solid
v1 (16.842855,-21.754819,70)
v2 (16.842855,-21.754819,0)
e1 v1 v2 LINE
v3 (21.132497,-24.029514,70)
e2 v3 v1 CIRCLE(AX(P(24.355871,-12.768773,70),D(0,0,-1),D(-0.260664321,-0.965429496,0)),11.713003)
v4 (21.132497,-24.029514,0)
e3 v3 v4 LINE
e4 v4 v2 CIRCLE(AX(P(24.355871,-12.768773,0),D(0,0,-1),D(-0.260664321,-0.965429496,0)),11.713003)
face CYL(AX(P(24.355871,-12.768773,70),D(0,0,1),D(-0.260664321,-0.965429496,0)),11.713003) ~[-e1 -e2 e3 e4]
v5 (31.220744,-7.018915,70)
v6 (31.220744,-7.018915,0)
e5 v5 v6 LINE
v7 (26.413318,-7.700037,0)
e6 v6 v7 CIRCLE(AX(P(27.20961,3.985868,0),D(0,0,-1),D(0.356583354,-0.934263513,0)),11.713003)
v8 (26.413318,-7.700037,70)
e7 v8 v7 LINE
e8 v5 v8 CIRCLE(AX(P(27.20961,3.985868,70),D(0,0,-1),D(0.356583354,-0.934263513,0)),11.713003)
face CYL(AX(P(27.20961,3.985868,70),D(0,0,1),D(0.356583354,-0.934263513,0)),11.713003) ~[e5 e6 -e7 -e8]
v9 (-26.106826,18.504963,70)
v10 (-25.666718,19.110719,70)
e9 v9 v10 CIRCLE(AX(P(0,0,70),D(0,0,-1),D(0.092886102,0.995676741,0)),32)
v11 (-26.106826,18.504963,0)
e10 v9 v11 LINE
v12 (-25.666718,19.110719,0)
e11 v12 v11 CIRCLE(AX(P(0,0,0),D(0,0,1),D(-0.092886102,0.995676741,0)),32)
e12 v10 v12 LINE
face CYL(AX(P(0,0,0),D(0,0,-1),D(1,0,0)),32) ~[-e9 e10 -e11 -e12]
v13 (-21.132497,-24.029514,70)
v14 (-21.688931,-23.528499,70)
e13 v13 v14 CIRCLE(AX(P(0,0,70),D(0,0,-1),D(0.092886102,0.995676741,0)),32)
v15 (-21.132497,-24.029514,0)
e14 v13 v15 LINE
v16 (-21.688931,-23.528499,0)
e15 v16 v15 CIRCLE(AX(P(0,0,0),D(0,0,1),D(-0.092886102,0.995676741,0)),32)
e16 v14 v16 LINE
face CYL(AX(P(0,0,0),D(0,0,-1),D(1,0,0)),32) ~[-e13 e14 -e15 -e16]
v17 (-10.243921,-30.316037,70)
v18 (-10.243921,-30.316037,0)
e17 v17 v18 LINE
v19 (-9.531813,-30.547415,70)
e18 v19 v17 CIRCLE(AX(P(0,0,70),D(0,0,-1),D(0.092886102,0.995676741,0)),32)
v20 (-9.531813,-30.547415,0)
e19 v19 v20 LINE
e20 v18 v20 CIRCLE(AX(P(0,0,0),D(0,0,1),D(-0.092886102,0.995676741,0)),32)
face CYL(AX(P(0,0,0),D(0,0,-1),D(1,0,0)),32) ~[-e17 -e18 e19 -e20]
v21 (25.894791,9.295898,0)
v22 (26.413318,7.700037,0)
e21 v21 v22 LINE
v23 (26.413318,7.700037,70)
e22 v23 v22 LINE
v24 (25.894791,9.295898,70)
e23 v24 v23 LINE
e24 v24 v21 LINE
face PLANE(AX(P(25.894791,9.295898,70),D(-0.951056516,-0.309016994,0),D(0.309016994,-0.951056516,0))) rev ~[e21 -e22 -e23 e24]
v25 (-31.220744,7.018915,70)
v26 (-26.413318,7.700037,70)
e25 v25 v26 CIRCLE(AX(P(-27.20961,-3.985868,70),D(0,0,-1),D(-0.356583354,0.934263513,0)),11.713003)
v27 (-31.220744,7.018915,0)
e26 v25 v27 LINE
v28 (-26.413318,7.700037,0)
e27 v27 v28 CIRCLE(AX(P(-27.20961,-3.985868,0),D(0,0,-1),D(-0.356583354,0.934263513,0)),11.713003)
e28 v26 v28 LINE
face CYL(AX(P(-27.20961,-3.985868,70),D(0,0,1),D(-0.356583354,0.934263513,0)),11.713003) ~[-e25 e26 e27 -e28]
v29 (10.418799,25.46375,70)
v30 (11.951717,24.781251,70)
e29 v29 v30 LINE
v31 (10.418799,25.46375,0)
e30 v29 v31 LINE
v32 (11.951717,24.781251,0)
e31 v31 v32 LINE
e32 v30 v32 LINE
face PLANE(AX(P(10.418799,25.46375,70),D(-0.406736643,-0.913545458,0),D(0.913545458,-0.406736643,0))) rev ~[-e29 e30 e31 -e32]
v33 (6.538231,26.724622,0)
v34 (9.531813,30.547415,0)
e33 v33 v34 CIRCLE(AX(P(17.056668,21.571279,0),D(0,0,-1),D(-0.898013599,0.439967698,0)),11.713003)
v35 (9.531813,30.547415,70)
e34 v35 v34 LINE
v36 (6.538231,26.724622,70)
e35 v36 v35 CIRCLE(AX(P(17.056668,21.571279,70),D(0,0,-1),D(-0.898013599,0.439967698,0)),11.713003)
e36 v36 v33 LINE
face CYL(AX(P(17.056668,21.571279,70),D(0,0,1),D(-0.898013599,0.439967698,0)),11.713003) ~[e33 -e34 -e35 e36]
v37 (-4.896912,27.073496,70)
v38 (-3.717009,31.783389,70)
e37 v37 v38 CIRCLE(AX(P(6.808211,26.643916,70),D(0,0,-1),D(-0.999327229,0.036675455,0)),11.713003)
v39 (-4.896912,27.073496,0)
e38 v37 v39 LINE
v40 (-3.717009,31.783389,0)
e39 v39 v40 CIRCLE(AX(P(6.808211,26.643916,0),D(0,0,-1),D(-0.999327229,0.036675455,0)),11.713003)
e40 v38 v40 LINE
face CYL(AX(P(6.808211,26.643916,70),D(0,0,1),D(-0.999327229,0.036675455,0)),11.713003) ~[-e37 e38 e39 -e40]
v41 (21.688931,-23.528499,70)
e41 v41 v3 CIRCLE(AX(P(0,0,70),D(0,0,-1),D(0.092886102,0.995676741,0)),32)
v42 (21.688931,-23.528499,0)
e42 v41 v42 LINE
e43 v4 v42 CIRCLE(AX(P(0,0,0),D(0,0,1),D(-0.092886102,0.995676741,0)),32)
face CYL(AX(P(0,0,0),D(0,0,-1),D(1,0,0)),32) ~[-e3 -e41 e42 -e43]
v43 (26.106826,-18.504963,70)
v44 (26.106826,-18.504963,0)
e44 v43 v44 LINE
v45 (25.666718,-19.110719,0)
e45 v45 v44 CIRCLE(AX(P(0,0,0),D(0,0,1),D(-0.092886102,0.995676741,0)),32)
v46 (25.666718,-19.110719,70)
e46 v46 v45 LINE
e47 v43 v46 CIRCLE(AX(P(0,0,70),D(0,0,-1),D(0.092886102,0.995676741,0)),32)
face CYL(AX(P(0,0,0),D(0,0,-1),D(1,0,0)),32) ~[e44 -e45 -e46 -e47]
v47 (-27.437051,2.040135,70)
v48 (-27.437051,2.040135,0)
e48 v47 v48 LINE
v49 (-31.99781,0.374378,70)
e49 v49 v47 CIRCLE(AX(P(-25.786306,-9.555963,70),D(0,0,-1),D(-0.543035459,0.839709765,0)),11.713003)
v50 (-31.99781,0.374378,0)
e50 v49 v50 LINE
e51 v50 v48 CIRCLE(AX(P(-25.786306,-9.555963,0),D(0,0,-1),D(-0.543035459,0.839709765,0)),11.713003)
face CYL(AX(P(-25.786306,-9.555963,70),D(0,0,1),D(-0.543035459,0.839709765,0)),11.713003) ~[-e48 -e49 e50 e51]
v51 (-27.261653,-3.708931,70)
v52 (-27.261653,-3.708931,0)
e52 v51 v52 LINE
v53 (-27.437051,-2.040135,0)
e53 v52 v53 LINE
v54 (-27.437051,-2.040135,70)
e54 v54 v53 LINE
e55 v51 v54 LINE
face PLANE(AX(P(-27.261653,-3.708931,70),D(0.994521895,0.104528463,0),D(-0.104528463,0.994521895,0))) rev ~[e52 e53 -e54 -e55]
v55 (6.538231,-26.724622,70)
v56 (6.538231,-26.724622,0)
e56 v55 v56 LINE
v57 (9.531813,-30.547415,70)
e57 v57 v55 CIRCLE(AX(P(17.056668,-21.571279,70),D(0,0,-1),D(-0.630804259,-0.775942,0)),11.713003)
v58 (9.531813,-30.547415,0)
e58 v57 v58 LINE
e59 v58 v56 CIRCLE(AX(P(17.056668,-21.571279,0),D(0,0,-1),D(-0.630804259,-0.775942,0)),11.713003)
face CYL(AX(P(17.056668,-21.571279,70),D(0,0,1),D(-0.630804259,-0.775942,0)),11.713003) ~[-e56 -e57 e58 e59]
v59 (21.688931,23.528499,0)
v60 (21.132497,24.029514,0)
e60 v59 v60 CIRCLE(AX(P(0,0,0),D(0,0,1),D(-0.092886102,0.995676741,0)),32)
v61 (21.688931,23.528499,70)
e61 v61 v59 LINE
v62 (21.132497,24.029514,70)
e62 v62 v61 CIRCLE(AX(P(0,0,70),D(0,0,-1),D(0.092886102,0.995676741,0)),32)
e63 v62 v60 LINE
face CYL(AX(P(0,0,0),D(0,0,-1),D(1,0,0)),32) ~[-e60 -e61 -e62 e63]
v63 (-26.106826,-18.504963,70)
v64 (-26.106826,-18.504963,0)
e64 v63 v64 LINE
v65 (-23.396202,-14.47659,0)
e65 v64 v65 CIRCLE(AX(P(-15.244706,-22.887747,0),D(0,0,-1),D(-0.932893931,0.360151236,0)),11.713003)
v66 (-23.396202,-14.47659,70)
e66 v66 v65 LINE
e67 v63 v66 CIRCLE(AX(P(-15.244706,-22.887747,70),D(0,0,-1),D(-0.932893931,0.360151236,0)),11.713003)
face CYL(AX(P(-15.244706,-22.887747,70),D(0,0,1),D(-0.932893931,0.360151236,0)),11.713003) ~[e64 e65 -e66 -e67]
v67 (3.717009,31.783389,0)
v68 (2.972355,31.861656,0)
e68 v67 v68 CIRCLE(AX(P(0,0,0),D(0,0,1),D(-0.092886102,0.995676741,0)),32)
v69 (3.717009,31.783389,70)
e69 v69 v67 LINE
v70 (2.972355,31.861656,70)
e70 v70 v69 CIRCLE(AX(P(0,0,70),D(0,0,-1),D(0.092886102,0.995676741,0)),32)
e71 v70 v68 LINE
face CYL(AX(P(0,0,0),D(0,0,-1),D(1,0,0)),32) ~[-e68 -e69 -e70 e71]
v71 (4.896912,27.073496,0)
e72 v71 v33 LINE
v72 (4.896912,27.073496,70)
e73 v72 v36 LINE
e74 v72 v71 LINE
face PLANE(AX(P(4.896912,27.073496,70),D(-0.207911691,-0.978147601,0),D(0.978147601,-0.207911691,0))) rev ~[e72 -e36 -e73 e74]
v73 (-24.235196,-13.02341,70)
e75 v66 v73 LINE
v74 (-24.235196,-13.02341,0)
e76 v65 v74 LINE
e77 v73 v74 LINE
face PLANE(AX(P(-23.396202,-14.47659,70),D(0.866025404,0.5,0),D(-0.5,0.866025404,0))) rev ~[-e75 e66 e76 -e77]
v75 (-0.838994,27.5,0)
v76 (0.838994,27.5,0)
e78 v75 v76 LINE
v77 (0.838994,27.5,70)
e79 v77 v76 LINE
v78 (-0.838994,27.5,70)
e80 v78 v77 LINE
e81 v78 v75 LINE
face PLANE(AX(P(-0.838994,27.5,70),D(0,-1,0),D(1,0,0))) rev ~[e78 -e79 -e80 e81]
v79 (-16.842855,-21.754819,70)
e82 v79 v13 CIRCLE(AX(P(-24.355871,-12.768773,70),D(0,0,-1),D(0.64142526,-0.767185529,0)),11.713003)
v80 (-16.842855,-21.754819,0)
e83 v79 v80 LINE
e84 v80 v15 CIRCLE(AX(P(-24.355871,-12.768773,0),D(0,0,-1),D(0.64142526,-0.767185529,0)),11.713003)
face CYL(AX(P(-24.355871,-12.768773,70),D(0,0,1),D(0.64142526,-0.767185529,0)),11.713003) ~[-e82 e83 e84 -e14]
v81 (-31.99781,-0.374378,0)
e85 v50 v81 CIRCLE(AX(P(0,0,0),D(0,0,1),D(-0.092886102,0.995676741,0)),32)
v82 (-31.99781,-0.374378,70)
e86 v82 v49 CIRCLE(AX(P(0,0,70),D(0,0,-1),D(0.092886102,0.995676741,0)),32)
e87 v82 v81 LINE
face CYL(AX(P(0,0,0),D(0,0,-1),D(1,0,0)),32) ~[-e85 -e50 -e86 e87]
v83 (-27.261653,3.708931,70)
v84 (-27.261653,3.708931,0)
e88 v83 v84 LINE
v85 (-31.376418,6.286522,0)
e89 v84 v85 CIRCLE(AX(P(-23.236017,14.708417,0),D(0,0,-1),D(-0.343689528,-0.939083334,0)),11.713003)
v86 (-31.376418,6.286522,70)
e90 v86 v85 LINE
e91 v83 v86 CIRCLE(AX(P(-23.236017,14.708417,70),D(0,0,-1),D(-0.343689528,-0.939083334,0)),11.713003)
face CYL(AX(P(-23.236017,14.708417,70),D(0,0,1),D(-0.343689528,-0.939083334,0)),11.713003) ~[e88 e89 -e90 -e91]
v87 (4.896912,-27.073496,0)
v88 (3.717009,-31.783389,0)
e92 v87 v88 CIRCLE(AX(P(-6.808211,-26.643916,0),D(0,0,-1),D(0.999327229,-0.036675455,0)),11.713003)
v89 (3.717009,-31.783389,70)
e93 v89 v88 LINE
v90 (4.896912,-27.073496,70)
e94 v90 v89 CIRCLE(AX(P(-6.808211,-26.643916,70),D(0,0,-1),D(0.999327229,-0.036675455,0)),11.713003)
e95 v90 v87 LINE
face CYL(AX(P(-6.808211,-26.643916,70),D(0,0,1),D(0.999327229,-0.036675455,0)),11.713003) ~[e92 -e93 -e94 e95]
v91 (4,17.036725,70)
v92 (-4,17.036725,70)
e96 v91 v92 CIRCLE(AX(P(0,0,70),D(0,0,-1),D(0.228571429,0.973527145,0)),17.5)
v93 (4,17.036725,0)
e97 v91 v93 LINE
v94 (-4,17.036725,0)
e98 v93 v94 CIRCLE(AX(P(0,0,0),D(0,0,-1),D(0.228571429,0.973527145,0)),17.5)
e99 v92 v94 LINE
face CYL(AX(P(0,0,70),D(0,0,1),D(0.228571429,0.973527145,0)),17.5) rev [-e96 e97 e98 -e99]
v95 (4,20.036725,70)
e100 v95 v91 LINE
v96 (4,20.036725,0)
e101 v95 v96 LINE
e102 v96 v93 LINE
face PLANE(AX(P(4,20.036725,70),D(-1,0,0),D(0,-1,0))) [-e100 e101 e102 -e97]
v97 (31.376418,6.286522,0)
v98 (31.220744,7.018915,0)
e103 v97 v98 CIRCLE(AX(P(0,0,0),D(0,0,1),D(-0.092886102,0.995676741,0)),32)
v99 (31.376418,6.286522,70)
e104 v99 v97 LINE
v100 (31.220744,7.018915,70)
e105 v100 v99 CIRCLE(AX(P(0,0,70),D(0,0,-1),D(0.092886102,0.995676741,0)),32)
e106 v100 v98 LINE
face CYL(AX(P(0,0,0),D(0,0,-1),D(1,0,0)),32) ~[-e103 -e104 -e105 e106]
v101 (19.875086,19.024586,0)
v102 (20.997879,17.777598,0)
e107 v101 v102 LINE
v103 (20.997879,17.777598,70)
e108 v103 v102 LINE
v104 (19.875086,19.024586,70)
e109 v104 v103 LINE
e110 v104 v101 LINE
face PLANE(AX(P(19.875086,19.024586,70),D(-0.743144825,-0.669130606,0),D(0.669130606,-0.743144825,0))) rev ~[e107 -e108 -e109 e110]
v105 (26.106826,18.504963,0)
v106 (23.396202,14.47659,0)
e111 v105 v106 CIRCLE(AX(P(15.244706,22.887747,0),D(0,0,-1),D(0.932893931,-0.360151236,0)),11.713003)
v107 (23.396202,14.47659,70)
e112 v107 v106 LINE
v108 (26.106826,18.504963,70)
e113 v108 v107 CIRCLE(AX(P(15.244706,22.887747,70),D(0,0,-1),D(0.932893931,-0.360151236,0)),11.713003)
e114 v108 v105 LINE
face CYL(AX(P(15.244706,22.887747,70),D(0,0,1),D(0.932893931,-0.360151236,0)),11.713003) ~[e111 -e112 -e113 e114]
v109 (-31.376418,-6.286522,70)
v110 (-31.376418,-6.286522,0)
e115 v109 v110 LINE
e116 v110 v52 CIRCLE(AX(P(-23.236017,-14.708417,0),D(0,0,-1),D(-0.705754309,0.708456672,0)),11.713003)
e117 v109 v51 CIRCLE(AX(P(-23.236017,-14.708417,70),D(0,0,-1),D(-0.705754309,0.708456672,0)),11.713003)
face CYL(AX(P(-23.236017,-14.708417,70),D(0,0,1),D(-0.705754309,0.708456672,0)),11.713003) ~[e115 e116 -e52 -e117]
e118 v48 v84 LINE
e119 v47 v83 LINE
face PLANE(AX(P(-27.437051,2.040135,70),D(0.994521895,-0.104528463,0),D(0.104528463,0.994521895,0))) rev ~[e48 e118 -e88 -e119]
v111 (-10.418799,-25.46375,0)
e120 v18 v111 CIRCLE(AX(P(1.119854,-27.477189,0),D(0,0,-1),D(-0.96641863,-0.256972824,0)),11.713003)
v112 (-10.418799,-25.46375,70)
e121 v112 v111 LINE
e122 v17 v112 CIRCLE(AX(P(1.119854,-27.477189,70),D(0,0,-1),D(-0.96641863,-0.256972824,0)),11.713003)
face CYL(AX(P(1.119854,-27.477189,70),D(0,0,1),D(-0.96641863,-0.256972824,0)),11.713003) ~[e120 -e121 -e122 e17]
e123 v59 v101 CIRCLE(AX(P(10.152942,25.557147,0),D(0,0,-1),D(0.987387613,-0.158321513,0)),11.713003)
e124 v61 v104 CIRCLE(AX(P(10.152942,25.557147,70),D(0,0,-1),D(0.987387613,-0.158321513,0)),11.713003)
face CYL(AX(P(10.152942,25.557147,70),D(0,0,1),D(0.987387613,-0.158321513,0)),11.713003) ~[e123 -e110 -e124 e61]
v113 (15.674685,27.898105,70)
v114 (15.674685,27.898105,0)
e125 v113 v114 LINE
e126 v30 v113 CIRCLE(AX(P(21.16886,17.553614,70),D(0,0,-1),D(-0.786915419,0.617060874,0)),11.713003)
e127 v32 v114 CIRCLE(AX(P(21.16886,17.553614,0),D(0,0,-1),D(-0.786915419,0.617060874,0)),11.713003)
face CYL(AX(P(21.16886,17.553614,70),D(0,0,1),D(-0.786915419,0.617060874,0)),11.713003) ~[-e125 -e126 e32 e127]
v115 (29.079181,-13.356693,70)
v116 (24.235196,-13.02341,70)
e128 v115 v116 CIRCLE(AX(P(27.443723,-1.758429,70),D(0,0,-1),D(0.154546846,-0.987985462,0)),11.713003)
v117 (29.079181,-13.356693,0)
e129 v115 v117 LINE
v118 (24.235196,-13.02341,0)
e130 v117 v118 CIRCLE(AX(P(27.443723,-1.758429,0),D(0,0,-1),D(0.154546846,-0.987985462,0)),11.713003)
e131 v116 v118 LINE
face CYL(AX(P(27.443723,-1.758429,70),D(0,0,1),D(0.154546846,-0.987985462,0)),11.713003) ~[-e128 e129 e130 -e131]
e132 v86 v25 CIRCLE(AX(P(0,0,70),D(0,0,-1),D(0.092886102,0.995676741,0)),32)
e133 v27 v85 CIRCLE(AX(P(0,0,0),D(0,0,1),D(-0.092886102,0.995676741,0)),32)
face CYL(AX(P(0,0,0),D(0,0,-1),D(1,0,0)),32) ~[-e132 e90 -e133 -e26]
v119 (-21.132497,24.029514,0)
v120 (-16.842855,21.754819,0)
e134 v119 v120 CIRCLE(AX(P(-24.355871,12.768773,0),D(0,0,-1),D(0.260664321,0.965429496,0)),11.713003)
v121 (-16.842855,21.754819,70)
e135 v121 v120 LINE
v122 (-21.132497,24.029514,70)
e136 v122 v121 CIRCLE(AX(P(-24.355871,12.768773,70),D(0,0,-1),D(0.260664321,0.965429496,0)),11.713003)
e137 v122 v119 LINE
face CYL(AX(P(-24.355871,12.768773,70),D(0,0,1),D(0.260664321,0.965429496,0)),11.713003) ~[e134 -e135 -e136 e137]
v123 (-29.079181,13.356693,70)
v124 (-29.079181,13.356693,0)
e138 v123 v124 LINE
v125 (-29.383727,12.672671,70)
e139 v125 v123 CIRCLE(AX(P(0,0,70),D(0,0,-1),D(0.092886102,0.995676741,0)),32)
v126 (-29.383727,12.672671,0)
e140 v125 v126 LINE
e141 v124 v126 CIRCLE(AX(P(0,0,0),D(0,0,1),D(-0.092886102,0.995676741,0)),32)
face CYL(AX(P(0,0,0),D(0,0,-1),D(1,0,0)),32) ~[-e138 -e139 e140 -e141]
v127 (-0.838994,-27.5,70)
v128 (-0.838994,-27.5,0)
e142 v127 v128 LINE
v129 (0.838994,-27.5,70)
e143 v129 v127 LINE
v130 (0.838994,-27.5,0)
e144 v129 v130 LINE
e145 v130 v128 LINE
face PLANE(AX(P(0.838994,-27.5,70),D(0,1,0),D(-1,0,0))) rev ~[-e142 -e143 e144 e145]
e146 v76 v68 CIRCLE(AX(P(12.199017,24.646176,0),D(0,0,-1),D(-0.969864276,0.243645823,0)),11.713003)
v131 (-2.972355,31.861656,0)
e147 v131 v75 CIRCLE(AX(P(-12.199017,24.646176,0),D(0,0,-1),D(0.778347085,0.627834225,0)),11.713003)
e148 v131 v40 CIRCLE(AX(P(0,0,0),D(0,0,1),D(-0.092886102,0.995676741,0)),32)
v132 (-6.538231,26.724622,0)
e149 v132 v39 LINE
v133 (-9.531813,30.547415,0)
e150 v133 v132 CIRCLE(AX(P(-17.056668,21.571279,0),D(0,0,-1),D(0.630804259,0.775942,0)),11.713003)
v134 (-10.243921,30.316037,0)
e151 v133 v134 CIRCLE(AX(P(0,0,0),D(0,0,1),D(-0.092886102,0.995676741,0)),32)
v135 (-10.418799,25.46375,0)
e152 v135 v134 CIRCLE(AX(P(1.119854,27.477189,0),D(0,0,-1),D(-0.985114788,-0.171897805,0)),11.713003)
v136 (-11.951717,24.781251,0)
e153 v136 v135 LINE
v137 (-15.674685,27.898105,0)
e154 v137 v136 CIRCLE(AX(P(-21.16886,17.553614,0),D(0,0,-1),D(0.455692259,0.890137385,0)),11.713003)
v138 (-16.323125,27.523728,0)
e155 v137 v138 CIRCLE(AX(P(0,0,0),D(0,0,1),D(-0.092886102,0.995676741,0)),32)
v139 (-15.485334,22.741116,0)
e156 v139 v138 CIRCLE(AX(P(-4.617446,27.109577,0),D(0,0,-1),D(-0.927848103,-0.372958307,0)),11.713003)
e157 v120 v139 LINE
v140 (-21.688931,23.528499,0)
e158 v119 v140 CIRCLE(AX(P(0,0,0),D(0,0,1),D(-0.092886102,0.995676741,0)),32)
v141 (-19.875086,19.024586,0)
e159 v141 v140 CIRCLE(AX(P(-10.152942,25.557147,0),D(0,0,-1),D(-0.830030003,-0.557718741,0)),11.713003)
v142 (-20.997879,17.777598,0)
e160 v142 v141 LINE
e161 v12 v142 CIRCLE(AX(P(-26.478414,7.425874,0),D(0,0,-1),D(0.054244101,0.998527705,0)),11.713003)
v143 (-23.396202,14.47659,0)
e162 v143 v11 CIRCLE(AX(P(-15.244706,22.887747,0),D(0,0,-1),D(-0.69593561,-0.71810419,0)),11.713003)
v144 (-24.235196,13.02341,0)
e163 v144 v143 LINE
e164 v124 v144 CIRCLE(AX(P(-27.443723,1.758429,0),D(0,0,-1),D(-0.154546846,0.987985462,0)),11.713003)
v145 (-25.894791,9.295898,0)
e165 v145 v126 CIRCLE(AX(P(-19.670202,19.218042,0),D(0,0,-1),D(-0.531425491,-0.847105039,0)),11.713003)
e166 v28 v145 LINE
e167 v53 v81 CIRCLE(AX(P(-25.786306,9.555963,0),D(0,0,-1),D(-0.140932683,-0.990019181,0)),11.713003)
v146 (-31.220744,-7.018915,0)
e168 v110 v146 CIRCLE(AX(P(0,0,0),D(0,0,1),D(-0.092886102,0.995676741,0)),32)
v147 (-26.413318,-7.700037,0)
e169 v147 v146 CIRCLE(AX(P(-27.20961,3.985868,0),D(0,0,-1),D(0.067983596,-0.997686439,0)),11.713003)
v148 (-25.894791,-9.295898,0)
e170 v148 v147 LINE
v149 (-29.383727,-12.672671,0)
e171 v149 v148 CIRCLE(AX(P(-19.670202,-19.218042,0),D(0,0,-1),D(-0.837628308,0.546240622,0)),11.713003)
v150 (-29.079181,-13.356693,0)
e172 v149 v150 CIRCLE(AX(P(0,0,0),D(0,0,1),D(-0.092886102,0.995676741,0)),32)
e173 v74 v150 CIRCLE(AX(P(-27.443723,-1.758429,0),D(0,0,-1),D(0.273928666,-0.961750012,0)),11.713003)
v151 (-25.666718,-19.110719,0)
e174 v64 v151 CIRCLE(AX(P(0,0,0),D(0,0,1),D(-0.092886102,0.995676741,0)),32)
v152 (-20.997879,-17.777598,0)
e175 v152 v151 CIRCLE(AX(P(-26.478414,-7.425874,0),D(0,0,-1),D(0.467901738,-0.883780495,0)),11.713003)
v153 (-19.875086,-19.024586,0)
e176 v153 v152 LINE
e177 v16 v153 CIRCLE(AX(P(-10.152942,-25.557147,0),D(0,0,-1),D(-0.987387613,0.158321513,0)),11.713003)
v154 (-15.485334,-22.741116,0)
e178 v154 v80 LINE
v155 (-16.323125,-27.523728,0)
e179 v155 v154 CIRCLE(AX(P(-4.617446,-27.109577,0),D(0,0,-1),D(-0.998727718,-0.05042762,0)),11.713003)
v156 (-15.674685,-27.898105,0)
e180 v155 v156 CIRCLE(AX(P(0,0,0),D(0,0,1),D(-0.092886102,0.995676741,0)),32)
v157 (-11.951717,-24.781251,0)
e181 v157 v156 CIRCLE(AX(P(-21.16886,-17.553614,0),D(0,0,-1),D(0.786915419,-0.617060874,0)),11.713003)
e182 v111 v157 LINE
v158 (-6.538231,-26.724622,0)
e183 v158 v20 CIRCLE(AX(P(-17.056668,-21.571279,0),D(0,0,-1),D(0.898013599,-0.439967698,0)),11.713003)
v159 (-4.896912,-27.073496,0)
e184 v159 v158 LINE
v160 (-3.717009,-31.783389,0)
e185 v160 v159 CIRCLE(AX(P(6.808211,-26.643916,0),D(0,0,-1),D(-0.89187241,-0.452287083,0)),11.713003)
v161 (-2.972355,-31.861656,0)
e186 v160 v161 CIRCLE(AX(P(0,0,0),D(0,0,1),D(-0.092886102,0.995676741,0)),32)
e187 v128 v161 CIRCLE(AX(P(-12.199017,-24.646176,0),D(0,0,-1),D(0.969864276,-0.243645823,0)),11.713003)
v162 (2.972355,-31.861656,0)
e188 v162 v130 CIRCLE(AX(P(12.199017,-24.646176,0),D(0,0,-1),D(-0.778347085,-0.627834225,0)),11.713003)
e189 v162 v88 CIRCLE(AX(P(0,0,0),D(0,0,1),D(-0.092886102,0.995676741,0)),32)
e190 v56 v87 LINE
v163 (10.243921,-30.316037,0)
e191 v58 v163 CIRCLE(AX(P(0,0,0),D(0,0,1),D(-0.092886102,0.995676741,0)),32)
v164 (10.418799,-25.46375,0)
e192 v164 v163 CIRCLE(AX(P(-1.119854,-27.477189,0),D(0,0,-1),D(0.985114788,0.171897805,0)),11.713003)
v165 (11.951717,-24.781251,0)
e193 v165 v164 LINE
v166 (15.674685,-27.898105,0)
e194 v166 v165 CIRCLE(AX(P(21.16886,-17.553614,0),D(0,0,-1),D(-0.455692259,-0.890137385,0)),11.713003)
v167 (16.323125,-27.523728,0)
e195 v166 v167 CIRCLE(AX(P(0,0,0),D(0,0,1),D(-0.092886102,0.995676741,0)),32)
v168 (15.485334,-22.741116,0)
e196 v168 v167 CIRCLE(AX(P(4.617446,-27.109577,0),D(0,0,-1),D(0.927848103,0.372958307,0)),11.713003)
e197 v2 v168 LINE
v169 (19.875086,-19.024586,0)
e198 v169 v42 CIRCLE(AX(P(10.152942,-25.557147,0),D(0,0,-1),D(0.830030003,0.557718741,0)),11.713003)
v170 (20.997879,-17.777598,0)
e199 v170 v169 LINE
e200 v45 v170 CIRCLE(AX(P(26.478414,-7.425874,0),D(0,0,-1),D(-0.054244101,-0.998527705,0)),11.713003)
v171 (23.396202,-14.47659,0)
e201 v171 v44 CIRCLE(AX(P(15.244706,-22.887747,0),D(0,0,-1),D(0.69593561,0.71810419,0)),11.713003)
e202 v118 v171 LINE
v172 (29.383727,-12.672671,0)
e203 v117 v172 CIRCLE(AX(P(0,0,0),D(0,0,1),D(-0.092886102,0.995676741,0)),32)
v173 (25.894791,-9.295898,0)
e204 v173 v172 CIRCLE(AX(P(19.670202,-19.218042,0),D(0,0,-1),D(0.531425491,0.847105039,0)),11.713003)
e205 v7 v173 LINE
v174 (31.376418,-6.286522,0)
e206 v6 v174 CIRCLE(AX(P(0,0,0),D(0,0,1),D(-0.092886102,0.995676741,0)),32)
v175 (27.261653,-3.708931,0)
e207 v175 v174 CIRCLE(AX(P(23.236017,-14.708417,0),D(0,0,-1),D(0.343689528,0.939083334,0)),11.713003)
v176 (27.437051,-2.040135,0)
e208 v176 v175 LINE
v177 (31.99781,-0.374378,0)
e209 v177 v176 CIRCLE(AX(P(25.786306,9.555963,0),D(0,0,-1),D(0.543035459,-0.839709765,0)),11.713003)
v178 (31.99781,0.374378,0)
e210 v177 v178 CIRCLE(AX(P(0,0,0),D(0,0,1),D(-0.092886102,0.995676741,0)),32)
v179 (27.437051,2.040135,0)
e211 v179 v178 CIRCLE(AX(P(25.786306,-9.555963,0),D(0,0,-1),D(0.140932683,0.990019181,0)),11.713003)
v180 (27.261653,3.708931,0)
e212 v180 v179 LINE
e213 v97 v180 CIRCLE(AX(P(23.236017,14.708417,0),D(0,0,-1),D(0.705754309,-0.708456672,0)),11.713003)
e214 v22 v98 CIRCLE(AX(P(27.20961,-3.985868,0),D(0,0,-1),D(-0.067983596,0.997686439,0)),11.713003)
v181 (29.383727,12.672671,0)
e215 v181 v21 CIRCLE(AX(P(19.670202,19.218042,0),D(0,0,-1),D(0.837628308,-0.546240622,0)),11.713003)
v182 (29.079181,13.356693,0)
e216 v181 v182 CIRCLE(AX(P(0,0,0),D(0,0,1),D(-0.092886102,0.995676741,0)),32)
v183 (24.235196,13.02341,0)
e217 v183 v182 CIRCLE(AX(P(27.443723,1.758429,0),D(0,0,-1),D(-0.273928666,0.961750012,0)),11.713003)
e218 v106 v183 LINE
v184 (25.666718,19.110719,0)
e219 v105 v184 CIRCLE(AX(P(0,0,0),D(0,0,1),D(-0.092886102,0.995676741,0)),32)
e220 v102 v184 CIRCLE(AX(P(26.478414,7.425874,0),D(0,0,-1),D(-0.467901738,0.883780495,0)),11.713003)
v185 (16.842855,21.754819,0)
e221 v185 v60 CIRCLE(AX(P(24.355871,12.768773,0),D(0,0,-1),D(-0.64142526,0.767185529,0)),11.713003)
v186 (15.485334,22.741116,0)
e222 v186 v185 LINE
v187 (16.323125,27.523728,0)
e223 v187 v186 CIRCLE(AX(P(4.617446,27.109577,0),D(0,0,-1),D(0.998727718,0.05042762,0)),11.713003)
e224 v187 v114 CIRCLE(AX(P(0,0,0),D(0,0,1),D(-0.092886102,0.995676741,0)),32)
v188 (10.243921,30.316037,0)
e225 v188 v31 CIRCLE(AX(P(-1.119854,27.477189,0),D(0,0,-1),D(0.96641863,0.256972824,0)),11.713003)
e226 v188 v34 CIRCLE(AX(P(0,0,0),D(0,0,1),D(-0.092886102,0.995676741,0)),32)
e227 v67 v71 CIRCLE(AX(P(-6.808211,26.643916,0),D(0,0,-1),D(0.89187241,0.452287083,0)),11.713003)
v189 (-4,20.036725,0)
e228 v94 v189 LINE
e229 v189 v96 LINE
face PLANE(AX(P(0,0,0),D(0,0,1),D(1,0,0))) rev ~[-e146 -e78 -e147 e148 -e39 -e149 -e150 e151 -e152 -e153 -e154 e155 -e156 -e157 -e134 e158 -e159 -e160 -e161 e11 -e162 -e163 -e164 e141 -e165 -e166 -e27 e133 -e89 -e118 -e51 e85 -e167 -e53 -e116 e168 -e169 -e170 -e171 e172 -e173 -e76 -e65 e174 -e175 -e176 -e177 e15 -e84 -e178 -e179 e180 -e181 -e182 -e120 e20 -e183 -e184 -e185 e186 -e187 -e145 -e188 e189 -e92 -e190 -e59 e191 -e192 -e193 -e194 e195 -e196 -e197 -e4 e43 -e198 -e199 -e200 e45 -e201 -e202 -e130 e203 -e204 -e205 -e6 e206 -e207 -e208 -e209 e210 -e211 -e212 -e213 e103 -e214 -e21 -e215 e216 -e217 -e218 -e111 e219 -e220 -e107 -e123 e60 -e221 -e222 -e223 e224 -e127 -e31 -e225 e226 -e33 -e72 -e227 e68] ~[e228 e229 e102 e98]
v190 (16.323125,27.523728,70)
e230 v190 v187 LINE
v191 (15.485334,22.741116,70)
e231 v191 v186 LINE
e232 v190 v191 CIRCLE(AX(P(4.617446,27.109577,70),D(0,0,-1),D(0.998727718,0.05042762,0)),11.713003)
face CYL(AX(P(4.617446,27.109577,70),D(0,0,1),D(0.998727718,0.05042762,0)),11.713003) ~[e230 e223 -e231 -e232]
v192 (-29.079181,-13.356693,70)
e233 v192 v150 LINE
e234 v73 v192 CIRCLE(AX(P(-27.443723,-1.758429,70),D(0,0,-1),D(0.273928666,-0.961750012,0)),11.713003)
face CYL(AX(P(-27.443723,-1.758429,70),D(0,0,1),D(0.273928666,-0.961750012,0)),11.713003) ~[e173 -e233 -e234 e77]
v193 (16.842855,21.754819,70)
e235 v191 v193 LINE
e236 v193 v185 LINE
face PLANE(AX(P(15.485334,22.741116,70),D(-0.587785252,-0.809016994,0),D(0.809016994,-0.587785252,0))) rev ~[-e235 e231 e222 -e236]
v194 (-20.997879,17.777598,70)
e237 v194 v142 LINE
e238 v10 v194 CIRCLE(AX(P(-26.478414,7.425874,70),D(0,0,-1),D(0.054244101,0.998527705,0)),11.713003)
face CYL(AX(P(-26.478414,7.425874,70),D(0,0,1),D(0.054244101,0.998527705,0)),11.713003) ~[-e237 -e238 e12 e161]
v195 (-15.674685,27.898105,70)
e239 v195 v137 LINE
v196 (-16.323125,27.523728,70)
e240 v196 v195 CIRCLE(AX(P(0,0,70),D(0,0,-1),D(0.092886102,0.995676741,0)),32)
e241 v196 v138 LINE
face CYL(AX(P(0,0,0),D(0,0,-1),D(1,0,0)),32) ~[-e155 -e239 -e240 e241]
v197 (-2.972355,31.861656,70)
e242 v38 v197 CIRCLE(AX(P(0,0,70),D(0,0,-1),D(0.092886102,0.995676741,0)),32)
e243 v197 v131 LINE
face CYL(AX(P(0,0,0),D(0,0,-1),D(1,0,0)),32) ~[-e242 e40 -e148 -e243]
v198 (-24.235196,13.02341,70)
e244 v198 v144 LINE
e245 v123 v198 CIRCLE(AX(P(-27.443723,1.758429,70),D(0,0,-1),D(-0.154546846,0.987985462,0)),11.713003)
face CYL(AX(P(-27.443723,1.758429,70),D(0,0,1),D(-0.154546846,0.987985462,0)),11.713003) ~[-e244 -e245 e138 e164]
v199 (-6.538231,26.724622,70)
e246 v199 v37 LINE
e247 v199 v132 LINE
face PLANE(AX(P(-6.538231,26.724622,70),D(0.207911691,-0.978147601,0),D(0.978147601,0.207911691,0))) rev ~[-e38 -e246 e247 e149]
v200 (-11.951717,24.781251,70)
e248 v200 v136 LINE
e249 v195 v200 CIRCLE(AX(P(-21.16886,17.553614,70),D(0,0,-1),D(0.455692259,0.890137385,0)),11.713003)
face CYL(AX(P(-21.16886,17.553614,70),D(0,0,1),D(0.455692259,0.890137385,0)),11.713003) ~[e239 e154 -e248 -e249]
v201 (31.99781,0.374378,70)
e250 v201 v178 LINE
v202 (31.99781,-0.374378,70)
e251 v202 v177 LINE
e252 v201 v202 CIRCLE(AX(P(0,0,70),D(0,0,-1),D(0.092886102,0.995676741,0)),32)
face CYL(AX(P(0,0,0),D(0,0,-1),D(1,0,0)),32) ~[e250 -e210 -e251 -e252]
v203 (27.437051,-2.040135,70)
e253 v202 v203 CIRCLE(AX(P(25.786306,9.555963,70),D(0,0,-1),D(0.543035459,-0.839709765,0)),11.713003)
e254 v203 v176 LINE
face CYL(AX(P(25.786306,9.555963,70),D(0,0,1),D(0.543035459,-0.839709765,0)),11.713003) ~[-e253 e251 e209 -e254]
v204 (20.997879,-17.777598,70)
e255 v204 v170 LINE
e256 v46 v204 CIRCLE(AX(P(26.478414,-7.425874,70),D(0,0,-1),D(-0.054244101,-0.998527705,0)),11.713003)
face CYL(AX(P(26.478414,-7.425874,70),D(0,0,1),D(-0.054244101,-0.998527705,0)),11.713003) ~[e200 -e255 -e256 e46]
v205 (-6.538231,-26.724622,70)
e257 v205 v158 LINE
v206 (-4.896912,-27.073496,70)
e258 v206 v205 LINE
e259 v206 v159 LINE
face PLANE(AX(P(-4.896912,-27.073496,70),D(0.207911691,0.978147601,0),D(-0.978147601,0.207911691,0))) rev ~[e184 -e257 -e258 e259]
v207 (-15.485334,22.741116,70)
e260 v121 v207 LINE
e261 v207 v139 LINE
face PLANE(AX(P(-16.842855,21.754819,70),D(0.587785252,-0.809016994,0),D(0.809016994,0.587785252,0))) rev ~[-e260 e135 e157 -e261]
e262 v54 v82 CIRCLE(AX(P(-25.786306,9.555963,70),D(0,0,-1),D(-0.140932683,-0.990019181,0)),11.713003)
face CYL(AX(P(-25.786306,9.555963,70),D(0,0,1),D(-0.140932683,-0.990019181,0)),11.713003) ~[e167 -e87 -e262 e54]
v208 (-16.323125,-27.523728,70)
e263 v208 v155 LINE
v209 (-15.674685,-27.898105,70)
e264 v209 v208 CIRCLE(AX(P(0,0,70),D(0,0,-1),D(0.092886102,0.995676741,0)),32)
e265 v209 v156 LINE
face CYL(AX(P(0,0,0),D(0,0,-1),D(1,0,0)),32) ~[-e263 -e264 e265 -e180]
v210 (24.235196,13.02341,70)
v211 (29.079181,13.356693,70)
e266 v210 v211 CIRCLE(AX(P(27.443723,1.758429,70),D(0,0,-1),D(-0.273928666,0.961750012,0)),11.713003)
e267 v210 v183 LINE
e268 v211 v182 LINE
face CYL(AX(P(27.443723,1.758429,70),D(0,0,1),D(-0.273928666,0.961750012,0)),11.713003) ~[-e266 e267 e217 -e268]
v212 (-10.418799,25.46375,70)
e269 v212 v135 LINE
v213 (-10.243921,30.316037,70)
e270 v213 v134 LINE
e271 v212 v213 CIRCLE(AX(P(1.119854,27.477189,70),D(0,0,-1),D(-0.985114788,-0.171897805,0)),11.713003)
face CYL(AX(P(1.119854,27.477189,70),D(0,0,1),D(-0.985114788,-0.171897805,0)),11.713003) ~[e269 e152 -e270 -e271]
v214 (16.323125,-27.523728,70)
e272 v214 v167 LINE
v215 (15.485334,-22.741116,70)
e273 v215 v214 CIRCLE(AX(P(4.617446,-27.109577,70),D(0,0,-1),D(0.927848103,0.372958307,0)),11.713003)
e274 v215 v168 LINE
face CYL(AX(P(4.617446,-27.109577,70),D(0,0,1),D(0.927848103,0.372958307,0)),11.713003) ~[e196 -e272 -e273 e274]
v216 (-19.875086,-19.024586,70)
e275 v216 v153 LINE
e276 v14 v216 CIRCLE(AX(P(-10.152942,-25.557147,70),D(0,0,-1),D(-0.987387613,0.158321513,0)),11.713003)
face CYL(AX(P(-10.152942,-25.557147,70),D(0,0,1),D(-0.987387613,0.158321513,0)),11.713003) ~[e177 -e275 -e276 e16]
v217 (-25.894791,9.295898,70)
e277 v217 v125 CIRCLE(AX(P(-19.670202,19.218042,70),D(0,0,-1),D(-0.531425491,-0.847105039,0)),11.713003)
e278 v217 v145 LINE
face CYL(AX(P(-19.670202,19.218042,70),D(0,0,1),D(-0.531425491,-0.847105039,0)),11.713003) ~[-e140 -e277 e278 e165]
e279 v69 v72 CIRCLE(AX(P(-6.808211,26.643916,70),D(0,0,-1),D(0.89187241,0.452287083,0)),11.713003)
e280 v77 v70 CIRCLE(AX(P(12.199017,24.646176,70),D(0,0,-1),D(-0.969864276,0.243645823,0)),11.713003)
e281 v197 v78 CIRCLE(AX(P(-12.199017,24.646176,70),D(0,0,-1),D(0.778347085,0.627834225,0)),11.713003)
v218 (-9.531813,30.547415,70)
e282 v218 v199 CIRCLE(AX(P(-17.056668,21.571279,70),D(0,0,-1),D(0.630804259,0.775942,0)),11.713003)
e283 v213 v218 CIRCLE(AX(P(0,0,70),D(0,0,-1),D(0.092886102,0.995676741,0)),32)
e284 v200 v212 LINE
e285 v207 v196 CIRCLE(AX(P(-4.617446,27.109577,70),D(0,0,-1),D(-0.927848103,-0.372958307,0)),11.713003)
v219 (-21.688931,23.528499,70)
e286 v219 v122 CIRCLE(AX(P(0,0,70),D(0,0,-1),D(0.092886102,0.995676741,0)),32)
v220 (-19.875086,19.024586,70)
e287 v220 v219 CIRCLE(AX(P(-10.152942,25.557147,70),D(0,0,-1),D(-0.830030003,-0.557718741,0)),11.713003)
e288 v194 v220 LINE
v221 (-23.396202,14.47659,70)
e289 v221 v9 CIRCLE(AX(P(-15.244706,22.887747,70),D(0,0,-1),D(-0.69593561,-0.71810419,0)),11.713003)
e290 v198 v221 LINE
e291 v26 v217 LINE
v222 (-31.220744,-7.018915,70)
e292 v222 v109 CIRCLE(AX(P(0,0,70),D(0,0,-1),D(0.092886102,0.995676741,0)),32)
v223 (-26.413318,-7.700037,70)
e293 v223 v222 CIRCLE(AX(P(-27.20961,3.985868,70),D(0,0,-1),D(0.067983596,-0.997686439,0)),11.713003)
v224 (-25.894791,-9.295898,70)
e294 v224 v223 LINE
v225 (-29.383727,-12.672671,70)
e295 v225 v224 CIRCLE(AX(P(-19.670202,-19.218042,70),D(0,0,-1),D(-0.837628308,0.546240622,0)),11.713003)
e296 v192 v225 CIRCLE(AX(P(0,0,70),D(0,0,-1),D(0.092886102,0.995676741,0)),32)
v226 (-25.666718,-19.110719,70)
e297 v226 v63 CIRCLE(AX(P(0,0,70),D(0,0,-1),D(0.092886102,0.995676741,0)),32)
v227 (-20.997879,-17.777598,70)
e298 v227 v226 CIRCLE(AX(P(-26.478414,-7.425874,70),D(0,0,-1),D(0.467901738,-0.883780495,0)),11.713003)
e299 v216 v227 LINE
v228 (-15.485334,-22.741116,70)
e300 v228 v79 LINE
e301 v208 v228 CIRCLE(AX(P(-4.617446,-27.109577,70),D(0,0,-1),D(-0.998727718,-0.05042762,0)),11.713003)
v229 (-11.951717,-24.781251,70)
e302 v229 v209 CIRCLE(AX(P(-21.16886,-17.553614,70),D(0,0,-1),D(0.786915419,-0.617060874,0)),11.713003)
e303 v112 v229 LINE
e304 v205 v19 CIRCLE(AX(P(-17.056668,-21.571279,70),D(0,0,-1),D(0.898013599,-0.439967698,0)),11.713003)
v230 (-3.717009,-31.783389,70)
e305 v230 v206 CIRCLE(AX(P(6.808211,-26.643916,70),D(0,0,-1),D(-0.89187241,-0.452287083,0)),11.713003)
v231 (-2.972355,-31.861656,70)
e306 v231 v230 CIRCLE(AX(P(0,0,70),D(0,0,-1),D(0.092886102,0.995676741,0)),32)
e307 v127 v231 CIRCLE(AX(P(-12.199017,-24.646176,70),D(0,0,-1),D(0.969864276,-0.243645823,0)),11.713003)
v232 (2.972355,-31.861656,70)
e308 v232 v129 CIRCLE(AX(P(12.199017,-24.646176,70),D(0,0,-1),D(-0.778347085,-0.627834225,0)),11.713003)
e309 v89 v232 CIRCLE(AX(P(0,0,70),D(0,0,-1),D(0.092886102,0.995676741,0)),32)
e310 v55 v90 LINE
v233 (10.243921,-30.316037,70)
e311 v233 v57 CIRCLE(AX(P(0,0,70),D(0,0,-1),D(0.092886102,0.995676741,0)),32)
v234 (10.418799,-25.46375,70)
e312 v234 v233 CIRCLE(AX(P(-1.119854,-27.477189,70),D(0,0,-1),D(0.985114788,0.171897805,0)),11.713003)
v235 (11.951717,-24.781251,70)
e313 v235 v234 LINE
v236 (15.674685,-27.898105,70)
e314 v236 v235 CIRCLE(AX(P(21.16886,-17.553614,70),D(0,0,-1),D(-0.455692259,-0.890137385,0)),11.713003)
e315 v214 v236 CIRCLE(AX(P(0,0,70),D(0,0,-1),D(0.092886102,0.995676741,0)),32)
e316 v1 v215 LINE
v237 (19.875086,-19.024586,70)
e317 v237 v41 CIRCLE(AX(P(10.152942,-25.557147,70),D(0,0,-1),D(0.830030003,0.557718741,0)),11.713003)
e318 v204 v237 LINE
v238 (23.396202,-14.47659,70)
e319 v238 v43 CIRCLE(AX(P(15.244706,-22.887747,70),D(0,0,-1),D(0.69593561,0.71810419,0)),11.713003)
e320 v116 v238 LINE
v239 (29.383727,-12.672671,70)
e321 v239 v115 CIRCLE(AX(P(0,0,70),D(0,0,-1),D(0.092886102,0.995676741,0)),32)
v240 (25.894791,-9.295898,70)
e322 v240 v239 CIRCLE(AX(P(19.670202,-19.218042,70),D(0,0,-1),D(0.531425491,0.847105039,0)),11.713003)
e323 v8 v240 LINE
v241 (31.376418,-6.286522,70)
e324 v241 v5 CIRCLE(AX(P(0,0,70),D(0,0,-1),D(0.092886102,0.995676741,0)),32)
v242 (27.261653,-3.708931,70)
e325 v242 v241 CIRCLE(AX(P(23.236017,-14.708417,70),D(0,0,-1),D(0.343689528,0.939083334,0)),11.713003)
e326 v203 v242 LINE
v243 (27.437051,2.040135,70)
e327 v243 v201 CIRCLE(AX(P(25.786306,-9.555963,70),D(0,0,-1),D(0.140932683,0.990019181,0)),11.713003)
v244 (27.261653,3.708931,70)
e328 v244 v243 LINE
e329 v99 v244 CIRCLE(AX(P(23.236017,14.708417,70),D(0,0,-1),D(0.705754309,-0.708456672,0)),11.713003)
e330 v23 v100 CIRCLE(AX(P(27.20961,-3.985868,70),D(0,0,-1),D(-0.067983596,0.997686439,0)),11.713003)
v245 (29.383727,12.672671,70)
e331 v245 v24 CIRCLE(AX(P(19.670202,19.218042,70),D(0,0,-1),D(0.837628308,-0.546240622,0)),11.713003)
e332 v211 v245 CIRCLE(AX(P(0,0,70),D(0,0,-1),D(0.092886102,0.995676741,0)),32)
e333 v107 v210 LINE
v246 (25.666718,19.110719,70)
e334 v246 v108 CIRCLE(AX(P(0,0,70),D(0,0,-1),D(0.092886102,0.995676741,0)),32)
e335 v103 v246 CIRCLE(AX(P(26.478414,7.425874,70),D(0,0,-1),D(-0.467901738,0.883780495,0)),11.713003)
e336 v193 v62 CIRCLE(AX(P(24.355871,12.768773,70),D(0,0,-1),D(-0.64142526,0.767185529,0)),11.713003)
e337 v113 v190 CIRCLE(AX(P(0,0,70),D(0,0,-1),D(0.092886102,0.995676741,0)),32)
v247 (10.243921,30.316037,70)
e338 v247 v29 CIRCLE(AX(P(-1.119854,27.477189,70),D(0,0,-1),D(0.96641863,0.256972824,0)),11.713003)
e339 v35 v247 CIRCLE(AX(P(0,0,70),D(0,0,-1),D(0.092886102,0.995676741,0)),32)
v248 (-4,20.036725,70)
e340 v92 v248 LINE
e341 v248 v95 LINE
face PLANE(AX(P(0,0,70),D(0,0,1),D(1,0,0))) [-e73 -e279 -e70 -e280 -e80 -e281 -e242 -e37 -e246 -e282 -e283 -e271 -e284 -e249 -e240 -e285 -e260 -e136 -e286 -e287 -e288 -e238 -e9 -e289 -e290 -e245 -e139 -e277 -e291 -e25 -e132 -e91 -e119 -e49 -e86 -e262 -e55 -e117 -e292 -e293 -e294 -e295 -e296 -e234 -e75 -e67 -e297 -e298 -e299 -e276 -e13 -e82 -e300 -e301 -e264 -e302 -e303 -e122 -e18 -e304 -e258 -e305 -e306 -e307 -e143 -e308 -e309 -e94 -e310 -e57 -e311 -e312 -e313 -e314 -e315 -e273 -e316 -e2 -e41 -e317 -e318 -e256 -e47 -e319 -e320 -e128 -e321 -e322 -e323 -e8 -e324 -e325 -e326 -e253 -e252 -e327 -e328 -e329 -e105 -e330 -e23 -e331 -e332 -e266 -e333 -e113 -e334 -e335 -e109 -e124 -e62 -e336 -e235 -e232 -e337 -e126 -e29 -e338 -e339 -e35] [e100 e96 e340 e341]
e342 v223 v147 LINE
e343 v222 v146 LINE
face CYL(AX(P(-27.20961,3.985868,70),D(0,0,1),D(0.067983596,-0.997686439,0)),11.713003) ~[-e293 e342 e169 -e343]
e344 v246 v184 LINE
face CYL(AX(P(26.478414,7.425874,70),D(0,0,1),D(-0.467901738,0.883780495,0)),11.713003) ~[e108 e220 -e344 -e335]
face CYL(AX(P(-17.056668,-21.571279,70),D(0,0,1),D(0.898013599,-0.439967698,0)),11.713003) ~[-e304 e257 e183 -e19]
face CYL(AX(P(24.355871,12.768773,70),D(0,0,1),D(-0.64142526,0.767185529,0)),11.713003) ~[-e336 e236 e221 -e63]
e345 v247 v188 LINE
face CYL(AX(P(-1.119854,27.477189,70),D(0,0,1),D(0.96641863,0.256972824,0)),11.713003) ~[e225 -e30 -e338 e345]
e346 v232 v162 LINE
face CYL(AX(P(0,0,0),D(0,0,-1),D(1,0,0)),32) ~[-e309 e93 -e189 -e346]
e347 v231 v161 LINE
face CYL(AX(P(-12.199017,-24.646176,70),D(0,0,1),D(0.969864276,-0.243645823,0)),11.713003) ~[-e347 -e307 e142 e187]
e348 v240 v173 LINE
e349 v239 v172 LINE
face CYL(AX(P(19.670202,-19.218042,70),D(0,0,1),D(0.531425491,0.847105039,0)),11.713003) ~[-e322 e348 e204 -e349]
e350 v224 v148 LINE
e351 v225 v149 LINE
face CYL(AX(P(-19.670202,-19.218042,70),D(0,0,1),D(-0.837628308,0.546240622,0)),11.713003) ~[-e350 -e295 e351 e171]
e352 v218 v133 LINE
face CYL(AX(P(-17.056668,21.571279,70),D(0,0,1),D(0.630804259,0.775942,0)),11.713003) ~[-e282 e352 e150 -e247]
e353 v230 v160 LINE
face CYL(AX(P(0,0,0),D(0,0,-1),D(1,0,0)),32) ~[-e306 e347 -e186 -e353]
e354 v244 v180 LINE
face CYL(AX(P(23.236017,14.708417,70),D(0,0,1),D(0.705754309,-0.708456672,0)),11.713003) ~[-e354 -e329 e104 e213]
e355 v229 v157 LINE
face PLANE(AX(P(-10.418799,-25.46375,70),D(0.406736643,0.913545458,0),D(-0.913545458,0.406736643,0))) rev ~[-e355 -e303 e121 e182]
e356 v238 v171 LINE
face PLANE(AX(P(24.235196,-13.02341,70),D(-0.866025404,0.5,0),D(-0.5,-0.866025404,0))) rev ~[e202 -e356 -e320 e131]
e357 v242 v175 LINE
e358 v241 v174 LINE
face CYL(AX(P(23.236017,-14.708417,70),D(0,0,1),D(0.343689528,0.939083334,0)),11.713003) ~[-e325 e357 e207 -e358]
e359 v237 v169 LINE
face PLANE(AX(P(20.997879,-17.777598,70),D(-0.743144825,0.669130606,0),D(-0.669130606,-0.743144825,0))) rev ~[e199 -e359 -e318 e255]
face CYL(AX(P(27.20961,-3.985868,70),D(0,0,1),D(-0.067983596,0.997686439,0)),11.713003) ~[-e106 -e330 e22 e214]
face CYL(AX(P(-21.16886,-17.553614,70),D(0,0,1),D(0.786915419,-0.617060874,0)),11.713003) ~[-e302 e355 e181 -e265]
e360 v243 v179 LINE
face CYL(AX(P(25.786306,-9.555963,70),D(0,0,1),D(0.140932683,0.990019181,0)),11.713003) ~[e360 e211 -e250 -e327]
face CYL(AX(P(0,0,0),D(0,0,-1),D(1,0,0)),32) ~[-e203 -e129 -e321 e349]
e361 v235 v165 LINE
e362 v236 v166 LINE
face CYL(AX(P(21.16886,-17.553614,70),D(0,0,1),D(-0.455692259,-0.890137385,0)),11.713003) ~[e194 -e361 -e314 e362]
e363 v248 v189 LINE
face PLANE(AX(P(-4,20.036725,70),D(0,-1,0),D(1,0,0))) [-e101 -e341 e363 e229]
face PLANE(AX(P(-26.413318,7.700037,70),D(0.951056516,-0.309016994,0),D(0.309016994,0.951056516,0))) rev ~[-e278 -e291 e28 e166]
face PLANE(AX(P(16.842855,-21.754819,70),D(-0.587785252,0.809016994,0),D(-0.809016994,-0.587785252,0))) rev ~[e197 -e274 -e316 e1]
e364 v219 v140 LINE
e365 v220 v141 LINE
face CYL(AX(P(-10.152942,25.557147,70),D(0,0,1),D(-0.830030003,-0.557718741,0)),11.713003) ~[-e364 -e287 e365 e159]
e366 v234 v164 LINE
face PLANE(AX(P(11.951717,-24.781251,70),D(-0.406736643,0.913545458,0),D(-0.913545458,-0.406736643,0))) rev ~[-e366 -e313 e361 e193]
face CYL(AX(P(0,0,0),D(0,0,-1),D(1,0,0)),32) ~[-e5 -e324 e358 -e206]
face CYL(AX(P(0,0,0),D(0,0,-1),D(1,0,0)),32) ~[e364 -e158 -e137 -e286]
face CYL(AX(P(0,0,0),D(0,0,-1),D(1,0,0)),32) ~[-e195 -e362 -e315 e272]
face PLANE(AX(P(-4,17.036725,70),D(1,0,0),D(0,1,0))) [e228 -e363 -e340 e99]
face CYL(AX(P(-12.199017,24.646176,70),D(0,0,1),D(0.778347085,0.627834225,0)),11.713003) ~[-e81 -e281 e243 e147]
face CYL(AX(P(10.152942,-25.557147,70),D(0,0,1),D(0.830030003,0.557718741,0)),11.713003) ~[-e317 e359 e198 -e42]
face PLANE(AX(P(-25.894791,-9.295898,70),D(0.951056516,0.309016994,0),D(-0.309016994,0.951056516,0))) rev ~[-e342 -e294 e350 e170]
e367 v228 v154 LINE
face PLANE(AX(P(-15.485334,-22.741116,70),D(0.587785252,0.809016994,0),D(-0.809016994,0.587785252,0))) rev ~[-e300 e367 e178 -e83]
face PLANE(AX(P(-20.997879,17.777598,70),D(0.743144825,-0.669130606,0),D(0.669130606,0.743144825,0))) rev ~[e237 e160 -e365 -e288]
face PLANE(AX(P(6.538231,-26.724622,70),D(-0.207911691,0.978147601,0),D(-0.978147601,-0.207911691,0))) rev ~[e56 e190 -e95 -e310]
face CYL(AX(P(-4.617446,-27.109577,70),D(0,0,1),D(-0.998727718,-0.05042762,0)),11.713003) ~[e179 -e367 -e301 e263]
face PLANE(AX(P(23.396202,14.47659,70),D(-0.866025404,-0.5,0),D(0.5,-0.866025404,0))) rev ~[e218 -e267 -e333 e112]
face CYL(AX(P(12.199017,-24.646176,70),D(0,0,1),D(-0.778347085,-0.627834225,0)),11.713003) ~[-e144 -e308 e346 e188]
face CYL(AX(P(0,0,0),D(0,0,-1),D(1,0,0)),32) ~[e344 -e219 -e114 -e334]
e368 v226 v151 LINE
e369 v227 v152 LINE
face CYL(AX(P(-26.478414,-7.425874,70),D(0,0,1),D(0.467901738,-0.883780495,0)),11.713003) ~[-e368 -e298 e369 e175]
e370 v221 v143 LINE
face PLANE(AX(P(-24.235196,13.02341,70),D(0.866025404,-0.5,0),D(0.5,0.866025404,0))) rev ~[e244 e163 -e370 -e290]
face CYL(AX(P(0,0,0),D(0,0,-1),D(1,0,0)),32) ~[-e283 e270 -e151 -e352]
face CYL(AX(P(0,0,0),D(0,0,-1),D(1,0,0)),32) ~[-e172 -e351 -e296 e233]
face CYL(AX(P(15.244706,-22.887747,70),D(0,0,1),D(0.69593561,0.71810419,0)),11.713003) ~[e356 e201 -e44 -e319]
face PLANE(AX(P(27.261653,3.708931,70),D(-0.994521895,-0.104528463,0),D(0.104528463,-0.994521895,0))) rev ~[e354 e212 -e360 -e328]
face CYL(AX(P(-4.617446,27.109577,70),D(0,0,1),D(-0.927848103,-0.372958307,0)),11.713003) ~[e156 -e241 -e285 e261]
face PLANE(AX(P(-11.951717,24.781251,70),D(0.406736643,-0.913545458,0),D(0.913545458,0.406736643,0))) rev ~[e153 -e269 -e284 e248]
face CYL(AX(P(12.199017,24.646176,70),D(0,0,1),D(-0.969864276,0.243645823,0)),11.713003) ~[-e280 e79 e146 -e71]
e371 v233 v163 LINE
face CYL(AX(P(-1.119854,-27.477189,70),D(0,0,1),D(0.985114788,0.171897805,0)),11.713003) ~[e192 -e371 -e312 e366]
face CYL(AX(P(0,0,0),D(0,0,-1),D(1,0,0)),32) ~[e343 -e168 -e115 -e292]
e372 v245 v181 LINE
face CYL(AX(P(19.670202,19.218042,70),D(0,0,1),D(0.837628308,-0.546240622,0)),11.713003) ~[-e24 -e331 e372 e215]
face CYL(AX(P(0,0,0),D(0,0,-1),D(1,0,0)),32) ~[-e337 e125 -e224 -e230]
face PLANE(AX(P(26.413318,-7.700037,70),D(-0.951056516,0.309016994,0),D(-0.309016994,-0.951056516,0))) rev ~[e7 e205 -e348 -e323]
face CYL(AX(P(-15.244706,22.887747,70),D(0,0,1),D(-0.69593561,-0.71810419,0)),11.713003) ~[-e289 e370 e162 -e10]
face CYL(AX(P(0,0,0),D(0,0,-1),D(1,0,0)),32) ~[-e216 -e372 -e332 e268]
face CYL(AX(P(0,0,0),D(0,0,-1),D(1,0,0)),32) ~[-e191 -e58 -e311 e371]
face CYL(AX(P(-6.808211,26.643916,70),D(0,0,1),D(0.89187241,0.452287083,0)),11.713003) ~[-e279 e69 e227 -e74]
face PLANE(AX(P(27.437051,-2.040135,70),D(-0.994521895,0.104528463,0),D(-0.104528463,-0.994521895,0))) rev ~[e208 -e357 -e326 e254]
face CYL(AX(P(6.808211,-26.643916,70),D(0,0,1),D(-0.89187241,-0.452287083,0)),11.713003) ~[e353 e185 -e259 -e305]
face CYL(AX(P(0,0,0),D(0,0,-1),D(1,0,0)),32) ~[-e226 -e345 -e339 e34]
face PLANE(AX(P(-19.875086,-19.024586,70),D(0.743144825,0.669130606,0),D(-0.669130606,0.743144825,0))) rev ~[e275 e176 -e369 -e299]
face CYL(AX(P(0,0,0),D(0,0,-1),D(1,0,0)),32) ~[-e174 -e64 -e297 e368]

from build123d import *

# Parameters (mm, degrees)
SKETCH1_R           = 32
BOSS_EXTRUDE1_DEPTH = 70
CUT_EXTRUDE1_DEPTH  = 70
CIRPATTERN1_COUNT   = 30
CUT_EXTRUDE2_DEPTH  = 70


with BuildPart() as part:
    # Sketch1 → Boss-Extrude1 (new body)
    with BuildSketch(Plane.XY):
        Circle(SKETCH1_R)
    extrude(amount=BOSS_EXTRUDE1_DEPTH)

    # Sketch3 → Cut-Extrude1 (cut)
    with BuildSketch(Plane.XY.offset(70)):
        with BuildLine():
            Line((3.082235405, 32), (-3.082235405, 32))
            ThreePointArc((-3.082235405, 32), (-1.716298742, 29.871791027), (-0.838993939, 27.5))
            Line((-0.838993939, 27.5), (0.838993939, 27.5))
            ThreePointArc((0.838993939, 27.5), (1.716298742, 29.871791027), (3.082235405, 32))
        make_face()
    cut_extrude1 = extrude(amount=-CUT_EXTRUDE1_DEPTH, mode=Mode.SUBTRACT)

    # CirPattern1: Cut-Extrude1 ×30 about axis
    cirpattern1_axis = Axis((0, 0, 0), (0, 0, 1))
    for i in range(1, CIRPATTERN1_COUNT):
        add(cut_extrude1.rotate(cirpattern1_axis, i * 360 / CIRPATTERN1_COUNT), mode=Mode.SUBTRACT)

    # Sketch4 → Cut-Extrude2 (cut)
    with BuildSketch(Plane.XY.offset(70)):
        with BuildLine():
            Line((-4, 17.036725037), (-4, 20.036725037))
            Line((-4, 20.036725037), (4, 20.036725037))
            Line((4, 20.036725037), (4, 17.036725037))
            ThreePointArc((4, 17.036725037), (0, -17.5), (-4, 17.036725037))
        make_face()
    extrude(amount=-CUT_EXTRUDE2_DEPTH, mode=Mode.SUBTRACT)


solid = part.part
